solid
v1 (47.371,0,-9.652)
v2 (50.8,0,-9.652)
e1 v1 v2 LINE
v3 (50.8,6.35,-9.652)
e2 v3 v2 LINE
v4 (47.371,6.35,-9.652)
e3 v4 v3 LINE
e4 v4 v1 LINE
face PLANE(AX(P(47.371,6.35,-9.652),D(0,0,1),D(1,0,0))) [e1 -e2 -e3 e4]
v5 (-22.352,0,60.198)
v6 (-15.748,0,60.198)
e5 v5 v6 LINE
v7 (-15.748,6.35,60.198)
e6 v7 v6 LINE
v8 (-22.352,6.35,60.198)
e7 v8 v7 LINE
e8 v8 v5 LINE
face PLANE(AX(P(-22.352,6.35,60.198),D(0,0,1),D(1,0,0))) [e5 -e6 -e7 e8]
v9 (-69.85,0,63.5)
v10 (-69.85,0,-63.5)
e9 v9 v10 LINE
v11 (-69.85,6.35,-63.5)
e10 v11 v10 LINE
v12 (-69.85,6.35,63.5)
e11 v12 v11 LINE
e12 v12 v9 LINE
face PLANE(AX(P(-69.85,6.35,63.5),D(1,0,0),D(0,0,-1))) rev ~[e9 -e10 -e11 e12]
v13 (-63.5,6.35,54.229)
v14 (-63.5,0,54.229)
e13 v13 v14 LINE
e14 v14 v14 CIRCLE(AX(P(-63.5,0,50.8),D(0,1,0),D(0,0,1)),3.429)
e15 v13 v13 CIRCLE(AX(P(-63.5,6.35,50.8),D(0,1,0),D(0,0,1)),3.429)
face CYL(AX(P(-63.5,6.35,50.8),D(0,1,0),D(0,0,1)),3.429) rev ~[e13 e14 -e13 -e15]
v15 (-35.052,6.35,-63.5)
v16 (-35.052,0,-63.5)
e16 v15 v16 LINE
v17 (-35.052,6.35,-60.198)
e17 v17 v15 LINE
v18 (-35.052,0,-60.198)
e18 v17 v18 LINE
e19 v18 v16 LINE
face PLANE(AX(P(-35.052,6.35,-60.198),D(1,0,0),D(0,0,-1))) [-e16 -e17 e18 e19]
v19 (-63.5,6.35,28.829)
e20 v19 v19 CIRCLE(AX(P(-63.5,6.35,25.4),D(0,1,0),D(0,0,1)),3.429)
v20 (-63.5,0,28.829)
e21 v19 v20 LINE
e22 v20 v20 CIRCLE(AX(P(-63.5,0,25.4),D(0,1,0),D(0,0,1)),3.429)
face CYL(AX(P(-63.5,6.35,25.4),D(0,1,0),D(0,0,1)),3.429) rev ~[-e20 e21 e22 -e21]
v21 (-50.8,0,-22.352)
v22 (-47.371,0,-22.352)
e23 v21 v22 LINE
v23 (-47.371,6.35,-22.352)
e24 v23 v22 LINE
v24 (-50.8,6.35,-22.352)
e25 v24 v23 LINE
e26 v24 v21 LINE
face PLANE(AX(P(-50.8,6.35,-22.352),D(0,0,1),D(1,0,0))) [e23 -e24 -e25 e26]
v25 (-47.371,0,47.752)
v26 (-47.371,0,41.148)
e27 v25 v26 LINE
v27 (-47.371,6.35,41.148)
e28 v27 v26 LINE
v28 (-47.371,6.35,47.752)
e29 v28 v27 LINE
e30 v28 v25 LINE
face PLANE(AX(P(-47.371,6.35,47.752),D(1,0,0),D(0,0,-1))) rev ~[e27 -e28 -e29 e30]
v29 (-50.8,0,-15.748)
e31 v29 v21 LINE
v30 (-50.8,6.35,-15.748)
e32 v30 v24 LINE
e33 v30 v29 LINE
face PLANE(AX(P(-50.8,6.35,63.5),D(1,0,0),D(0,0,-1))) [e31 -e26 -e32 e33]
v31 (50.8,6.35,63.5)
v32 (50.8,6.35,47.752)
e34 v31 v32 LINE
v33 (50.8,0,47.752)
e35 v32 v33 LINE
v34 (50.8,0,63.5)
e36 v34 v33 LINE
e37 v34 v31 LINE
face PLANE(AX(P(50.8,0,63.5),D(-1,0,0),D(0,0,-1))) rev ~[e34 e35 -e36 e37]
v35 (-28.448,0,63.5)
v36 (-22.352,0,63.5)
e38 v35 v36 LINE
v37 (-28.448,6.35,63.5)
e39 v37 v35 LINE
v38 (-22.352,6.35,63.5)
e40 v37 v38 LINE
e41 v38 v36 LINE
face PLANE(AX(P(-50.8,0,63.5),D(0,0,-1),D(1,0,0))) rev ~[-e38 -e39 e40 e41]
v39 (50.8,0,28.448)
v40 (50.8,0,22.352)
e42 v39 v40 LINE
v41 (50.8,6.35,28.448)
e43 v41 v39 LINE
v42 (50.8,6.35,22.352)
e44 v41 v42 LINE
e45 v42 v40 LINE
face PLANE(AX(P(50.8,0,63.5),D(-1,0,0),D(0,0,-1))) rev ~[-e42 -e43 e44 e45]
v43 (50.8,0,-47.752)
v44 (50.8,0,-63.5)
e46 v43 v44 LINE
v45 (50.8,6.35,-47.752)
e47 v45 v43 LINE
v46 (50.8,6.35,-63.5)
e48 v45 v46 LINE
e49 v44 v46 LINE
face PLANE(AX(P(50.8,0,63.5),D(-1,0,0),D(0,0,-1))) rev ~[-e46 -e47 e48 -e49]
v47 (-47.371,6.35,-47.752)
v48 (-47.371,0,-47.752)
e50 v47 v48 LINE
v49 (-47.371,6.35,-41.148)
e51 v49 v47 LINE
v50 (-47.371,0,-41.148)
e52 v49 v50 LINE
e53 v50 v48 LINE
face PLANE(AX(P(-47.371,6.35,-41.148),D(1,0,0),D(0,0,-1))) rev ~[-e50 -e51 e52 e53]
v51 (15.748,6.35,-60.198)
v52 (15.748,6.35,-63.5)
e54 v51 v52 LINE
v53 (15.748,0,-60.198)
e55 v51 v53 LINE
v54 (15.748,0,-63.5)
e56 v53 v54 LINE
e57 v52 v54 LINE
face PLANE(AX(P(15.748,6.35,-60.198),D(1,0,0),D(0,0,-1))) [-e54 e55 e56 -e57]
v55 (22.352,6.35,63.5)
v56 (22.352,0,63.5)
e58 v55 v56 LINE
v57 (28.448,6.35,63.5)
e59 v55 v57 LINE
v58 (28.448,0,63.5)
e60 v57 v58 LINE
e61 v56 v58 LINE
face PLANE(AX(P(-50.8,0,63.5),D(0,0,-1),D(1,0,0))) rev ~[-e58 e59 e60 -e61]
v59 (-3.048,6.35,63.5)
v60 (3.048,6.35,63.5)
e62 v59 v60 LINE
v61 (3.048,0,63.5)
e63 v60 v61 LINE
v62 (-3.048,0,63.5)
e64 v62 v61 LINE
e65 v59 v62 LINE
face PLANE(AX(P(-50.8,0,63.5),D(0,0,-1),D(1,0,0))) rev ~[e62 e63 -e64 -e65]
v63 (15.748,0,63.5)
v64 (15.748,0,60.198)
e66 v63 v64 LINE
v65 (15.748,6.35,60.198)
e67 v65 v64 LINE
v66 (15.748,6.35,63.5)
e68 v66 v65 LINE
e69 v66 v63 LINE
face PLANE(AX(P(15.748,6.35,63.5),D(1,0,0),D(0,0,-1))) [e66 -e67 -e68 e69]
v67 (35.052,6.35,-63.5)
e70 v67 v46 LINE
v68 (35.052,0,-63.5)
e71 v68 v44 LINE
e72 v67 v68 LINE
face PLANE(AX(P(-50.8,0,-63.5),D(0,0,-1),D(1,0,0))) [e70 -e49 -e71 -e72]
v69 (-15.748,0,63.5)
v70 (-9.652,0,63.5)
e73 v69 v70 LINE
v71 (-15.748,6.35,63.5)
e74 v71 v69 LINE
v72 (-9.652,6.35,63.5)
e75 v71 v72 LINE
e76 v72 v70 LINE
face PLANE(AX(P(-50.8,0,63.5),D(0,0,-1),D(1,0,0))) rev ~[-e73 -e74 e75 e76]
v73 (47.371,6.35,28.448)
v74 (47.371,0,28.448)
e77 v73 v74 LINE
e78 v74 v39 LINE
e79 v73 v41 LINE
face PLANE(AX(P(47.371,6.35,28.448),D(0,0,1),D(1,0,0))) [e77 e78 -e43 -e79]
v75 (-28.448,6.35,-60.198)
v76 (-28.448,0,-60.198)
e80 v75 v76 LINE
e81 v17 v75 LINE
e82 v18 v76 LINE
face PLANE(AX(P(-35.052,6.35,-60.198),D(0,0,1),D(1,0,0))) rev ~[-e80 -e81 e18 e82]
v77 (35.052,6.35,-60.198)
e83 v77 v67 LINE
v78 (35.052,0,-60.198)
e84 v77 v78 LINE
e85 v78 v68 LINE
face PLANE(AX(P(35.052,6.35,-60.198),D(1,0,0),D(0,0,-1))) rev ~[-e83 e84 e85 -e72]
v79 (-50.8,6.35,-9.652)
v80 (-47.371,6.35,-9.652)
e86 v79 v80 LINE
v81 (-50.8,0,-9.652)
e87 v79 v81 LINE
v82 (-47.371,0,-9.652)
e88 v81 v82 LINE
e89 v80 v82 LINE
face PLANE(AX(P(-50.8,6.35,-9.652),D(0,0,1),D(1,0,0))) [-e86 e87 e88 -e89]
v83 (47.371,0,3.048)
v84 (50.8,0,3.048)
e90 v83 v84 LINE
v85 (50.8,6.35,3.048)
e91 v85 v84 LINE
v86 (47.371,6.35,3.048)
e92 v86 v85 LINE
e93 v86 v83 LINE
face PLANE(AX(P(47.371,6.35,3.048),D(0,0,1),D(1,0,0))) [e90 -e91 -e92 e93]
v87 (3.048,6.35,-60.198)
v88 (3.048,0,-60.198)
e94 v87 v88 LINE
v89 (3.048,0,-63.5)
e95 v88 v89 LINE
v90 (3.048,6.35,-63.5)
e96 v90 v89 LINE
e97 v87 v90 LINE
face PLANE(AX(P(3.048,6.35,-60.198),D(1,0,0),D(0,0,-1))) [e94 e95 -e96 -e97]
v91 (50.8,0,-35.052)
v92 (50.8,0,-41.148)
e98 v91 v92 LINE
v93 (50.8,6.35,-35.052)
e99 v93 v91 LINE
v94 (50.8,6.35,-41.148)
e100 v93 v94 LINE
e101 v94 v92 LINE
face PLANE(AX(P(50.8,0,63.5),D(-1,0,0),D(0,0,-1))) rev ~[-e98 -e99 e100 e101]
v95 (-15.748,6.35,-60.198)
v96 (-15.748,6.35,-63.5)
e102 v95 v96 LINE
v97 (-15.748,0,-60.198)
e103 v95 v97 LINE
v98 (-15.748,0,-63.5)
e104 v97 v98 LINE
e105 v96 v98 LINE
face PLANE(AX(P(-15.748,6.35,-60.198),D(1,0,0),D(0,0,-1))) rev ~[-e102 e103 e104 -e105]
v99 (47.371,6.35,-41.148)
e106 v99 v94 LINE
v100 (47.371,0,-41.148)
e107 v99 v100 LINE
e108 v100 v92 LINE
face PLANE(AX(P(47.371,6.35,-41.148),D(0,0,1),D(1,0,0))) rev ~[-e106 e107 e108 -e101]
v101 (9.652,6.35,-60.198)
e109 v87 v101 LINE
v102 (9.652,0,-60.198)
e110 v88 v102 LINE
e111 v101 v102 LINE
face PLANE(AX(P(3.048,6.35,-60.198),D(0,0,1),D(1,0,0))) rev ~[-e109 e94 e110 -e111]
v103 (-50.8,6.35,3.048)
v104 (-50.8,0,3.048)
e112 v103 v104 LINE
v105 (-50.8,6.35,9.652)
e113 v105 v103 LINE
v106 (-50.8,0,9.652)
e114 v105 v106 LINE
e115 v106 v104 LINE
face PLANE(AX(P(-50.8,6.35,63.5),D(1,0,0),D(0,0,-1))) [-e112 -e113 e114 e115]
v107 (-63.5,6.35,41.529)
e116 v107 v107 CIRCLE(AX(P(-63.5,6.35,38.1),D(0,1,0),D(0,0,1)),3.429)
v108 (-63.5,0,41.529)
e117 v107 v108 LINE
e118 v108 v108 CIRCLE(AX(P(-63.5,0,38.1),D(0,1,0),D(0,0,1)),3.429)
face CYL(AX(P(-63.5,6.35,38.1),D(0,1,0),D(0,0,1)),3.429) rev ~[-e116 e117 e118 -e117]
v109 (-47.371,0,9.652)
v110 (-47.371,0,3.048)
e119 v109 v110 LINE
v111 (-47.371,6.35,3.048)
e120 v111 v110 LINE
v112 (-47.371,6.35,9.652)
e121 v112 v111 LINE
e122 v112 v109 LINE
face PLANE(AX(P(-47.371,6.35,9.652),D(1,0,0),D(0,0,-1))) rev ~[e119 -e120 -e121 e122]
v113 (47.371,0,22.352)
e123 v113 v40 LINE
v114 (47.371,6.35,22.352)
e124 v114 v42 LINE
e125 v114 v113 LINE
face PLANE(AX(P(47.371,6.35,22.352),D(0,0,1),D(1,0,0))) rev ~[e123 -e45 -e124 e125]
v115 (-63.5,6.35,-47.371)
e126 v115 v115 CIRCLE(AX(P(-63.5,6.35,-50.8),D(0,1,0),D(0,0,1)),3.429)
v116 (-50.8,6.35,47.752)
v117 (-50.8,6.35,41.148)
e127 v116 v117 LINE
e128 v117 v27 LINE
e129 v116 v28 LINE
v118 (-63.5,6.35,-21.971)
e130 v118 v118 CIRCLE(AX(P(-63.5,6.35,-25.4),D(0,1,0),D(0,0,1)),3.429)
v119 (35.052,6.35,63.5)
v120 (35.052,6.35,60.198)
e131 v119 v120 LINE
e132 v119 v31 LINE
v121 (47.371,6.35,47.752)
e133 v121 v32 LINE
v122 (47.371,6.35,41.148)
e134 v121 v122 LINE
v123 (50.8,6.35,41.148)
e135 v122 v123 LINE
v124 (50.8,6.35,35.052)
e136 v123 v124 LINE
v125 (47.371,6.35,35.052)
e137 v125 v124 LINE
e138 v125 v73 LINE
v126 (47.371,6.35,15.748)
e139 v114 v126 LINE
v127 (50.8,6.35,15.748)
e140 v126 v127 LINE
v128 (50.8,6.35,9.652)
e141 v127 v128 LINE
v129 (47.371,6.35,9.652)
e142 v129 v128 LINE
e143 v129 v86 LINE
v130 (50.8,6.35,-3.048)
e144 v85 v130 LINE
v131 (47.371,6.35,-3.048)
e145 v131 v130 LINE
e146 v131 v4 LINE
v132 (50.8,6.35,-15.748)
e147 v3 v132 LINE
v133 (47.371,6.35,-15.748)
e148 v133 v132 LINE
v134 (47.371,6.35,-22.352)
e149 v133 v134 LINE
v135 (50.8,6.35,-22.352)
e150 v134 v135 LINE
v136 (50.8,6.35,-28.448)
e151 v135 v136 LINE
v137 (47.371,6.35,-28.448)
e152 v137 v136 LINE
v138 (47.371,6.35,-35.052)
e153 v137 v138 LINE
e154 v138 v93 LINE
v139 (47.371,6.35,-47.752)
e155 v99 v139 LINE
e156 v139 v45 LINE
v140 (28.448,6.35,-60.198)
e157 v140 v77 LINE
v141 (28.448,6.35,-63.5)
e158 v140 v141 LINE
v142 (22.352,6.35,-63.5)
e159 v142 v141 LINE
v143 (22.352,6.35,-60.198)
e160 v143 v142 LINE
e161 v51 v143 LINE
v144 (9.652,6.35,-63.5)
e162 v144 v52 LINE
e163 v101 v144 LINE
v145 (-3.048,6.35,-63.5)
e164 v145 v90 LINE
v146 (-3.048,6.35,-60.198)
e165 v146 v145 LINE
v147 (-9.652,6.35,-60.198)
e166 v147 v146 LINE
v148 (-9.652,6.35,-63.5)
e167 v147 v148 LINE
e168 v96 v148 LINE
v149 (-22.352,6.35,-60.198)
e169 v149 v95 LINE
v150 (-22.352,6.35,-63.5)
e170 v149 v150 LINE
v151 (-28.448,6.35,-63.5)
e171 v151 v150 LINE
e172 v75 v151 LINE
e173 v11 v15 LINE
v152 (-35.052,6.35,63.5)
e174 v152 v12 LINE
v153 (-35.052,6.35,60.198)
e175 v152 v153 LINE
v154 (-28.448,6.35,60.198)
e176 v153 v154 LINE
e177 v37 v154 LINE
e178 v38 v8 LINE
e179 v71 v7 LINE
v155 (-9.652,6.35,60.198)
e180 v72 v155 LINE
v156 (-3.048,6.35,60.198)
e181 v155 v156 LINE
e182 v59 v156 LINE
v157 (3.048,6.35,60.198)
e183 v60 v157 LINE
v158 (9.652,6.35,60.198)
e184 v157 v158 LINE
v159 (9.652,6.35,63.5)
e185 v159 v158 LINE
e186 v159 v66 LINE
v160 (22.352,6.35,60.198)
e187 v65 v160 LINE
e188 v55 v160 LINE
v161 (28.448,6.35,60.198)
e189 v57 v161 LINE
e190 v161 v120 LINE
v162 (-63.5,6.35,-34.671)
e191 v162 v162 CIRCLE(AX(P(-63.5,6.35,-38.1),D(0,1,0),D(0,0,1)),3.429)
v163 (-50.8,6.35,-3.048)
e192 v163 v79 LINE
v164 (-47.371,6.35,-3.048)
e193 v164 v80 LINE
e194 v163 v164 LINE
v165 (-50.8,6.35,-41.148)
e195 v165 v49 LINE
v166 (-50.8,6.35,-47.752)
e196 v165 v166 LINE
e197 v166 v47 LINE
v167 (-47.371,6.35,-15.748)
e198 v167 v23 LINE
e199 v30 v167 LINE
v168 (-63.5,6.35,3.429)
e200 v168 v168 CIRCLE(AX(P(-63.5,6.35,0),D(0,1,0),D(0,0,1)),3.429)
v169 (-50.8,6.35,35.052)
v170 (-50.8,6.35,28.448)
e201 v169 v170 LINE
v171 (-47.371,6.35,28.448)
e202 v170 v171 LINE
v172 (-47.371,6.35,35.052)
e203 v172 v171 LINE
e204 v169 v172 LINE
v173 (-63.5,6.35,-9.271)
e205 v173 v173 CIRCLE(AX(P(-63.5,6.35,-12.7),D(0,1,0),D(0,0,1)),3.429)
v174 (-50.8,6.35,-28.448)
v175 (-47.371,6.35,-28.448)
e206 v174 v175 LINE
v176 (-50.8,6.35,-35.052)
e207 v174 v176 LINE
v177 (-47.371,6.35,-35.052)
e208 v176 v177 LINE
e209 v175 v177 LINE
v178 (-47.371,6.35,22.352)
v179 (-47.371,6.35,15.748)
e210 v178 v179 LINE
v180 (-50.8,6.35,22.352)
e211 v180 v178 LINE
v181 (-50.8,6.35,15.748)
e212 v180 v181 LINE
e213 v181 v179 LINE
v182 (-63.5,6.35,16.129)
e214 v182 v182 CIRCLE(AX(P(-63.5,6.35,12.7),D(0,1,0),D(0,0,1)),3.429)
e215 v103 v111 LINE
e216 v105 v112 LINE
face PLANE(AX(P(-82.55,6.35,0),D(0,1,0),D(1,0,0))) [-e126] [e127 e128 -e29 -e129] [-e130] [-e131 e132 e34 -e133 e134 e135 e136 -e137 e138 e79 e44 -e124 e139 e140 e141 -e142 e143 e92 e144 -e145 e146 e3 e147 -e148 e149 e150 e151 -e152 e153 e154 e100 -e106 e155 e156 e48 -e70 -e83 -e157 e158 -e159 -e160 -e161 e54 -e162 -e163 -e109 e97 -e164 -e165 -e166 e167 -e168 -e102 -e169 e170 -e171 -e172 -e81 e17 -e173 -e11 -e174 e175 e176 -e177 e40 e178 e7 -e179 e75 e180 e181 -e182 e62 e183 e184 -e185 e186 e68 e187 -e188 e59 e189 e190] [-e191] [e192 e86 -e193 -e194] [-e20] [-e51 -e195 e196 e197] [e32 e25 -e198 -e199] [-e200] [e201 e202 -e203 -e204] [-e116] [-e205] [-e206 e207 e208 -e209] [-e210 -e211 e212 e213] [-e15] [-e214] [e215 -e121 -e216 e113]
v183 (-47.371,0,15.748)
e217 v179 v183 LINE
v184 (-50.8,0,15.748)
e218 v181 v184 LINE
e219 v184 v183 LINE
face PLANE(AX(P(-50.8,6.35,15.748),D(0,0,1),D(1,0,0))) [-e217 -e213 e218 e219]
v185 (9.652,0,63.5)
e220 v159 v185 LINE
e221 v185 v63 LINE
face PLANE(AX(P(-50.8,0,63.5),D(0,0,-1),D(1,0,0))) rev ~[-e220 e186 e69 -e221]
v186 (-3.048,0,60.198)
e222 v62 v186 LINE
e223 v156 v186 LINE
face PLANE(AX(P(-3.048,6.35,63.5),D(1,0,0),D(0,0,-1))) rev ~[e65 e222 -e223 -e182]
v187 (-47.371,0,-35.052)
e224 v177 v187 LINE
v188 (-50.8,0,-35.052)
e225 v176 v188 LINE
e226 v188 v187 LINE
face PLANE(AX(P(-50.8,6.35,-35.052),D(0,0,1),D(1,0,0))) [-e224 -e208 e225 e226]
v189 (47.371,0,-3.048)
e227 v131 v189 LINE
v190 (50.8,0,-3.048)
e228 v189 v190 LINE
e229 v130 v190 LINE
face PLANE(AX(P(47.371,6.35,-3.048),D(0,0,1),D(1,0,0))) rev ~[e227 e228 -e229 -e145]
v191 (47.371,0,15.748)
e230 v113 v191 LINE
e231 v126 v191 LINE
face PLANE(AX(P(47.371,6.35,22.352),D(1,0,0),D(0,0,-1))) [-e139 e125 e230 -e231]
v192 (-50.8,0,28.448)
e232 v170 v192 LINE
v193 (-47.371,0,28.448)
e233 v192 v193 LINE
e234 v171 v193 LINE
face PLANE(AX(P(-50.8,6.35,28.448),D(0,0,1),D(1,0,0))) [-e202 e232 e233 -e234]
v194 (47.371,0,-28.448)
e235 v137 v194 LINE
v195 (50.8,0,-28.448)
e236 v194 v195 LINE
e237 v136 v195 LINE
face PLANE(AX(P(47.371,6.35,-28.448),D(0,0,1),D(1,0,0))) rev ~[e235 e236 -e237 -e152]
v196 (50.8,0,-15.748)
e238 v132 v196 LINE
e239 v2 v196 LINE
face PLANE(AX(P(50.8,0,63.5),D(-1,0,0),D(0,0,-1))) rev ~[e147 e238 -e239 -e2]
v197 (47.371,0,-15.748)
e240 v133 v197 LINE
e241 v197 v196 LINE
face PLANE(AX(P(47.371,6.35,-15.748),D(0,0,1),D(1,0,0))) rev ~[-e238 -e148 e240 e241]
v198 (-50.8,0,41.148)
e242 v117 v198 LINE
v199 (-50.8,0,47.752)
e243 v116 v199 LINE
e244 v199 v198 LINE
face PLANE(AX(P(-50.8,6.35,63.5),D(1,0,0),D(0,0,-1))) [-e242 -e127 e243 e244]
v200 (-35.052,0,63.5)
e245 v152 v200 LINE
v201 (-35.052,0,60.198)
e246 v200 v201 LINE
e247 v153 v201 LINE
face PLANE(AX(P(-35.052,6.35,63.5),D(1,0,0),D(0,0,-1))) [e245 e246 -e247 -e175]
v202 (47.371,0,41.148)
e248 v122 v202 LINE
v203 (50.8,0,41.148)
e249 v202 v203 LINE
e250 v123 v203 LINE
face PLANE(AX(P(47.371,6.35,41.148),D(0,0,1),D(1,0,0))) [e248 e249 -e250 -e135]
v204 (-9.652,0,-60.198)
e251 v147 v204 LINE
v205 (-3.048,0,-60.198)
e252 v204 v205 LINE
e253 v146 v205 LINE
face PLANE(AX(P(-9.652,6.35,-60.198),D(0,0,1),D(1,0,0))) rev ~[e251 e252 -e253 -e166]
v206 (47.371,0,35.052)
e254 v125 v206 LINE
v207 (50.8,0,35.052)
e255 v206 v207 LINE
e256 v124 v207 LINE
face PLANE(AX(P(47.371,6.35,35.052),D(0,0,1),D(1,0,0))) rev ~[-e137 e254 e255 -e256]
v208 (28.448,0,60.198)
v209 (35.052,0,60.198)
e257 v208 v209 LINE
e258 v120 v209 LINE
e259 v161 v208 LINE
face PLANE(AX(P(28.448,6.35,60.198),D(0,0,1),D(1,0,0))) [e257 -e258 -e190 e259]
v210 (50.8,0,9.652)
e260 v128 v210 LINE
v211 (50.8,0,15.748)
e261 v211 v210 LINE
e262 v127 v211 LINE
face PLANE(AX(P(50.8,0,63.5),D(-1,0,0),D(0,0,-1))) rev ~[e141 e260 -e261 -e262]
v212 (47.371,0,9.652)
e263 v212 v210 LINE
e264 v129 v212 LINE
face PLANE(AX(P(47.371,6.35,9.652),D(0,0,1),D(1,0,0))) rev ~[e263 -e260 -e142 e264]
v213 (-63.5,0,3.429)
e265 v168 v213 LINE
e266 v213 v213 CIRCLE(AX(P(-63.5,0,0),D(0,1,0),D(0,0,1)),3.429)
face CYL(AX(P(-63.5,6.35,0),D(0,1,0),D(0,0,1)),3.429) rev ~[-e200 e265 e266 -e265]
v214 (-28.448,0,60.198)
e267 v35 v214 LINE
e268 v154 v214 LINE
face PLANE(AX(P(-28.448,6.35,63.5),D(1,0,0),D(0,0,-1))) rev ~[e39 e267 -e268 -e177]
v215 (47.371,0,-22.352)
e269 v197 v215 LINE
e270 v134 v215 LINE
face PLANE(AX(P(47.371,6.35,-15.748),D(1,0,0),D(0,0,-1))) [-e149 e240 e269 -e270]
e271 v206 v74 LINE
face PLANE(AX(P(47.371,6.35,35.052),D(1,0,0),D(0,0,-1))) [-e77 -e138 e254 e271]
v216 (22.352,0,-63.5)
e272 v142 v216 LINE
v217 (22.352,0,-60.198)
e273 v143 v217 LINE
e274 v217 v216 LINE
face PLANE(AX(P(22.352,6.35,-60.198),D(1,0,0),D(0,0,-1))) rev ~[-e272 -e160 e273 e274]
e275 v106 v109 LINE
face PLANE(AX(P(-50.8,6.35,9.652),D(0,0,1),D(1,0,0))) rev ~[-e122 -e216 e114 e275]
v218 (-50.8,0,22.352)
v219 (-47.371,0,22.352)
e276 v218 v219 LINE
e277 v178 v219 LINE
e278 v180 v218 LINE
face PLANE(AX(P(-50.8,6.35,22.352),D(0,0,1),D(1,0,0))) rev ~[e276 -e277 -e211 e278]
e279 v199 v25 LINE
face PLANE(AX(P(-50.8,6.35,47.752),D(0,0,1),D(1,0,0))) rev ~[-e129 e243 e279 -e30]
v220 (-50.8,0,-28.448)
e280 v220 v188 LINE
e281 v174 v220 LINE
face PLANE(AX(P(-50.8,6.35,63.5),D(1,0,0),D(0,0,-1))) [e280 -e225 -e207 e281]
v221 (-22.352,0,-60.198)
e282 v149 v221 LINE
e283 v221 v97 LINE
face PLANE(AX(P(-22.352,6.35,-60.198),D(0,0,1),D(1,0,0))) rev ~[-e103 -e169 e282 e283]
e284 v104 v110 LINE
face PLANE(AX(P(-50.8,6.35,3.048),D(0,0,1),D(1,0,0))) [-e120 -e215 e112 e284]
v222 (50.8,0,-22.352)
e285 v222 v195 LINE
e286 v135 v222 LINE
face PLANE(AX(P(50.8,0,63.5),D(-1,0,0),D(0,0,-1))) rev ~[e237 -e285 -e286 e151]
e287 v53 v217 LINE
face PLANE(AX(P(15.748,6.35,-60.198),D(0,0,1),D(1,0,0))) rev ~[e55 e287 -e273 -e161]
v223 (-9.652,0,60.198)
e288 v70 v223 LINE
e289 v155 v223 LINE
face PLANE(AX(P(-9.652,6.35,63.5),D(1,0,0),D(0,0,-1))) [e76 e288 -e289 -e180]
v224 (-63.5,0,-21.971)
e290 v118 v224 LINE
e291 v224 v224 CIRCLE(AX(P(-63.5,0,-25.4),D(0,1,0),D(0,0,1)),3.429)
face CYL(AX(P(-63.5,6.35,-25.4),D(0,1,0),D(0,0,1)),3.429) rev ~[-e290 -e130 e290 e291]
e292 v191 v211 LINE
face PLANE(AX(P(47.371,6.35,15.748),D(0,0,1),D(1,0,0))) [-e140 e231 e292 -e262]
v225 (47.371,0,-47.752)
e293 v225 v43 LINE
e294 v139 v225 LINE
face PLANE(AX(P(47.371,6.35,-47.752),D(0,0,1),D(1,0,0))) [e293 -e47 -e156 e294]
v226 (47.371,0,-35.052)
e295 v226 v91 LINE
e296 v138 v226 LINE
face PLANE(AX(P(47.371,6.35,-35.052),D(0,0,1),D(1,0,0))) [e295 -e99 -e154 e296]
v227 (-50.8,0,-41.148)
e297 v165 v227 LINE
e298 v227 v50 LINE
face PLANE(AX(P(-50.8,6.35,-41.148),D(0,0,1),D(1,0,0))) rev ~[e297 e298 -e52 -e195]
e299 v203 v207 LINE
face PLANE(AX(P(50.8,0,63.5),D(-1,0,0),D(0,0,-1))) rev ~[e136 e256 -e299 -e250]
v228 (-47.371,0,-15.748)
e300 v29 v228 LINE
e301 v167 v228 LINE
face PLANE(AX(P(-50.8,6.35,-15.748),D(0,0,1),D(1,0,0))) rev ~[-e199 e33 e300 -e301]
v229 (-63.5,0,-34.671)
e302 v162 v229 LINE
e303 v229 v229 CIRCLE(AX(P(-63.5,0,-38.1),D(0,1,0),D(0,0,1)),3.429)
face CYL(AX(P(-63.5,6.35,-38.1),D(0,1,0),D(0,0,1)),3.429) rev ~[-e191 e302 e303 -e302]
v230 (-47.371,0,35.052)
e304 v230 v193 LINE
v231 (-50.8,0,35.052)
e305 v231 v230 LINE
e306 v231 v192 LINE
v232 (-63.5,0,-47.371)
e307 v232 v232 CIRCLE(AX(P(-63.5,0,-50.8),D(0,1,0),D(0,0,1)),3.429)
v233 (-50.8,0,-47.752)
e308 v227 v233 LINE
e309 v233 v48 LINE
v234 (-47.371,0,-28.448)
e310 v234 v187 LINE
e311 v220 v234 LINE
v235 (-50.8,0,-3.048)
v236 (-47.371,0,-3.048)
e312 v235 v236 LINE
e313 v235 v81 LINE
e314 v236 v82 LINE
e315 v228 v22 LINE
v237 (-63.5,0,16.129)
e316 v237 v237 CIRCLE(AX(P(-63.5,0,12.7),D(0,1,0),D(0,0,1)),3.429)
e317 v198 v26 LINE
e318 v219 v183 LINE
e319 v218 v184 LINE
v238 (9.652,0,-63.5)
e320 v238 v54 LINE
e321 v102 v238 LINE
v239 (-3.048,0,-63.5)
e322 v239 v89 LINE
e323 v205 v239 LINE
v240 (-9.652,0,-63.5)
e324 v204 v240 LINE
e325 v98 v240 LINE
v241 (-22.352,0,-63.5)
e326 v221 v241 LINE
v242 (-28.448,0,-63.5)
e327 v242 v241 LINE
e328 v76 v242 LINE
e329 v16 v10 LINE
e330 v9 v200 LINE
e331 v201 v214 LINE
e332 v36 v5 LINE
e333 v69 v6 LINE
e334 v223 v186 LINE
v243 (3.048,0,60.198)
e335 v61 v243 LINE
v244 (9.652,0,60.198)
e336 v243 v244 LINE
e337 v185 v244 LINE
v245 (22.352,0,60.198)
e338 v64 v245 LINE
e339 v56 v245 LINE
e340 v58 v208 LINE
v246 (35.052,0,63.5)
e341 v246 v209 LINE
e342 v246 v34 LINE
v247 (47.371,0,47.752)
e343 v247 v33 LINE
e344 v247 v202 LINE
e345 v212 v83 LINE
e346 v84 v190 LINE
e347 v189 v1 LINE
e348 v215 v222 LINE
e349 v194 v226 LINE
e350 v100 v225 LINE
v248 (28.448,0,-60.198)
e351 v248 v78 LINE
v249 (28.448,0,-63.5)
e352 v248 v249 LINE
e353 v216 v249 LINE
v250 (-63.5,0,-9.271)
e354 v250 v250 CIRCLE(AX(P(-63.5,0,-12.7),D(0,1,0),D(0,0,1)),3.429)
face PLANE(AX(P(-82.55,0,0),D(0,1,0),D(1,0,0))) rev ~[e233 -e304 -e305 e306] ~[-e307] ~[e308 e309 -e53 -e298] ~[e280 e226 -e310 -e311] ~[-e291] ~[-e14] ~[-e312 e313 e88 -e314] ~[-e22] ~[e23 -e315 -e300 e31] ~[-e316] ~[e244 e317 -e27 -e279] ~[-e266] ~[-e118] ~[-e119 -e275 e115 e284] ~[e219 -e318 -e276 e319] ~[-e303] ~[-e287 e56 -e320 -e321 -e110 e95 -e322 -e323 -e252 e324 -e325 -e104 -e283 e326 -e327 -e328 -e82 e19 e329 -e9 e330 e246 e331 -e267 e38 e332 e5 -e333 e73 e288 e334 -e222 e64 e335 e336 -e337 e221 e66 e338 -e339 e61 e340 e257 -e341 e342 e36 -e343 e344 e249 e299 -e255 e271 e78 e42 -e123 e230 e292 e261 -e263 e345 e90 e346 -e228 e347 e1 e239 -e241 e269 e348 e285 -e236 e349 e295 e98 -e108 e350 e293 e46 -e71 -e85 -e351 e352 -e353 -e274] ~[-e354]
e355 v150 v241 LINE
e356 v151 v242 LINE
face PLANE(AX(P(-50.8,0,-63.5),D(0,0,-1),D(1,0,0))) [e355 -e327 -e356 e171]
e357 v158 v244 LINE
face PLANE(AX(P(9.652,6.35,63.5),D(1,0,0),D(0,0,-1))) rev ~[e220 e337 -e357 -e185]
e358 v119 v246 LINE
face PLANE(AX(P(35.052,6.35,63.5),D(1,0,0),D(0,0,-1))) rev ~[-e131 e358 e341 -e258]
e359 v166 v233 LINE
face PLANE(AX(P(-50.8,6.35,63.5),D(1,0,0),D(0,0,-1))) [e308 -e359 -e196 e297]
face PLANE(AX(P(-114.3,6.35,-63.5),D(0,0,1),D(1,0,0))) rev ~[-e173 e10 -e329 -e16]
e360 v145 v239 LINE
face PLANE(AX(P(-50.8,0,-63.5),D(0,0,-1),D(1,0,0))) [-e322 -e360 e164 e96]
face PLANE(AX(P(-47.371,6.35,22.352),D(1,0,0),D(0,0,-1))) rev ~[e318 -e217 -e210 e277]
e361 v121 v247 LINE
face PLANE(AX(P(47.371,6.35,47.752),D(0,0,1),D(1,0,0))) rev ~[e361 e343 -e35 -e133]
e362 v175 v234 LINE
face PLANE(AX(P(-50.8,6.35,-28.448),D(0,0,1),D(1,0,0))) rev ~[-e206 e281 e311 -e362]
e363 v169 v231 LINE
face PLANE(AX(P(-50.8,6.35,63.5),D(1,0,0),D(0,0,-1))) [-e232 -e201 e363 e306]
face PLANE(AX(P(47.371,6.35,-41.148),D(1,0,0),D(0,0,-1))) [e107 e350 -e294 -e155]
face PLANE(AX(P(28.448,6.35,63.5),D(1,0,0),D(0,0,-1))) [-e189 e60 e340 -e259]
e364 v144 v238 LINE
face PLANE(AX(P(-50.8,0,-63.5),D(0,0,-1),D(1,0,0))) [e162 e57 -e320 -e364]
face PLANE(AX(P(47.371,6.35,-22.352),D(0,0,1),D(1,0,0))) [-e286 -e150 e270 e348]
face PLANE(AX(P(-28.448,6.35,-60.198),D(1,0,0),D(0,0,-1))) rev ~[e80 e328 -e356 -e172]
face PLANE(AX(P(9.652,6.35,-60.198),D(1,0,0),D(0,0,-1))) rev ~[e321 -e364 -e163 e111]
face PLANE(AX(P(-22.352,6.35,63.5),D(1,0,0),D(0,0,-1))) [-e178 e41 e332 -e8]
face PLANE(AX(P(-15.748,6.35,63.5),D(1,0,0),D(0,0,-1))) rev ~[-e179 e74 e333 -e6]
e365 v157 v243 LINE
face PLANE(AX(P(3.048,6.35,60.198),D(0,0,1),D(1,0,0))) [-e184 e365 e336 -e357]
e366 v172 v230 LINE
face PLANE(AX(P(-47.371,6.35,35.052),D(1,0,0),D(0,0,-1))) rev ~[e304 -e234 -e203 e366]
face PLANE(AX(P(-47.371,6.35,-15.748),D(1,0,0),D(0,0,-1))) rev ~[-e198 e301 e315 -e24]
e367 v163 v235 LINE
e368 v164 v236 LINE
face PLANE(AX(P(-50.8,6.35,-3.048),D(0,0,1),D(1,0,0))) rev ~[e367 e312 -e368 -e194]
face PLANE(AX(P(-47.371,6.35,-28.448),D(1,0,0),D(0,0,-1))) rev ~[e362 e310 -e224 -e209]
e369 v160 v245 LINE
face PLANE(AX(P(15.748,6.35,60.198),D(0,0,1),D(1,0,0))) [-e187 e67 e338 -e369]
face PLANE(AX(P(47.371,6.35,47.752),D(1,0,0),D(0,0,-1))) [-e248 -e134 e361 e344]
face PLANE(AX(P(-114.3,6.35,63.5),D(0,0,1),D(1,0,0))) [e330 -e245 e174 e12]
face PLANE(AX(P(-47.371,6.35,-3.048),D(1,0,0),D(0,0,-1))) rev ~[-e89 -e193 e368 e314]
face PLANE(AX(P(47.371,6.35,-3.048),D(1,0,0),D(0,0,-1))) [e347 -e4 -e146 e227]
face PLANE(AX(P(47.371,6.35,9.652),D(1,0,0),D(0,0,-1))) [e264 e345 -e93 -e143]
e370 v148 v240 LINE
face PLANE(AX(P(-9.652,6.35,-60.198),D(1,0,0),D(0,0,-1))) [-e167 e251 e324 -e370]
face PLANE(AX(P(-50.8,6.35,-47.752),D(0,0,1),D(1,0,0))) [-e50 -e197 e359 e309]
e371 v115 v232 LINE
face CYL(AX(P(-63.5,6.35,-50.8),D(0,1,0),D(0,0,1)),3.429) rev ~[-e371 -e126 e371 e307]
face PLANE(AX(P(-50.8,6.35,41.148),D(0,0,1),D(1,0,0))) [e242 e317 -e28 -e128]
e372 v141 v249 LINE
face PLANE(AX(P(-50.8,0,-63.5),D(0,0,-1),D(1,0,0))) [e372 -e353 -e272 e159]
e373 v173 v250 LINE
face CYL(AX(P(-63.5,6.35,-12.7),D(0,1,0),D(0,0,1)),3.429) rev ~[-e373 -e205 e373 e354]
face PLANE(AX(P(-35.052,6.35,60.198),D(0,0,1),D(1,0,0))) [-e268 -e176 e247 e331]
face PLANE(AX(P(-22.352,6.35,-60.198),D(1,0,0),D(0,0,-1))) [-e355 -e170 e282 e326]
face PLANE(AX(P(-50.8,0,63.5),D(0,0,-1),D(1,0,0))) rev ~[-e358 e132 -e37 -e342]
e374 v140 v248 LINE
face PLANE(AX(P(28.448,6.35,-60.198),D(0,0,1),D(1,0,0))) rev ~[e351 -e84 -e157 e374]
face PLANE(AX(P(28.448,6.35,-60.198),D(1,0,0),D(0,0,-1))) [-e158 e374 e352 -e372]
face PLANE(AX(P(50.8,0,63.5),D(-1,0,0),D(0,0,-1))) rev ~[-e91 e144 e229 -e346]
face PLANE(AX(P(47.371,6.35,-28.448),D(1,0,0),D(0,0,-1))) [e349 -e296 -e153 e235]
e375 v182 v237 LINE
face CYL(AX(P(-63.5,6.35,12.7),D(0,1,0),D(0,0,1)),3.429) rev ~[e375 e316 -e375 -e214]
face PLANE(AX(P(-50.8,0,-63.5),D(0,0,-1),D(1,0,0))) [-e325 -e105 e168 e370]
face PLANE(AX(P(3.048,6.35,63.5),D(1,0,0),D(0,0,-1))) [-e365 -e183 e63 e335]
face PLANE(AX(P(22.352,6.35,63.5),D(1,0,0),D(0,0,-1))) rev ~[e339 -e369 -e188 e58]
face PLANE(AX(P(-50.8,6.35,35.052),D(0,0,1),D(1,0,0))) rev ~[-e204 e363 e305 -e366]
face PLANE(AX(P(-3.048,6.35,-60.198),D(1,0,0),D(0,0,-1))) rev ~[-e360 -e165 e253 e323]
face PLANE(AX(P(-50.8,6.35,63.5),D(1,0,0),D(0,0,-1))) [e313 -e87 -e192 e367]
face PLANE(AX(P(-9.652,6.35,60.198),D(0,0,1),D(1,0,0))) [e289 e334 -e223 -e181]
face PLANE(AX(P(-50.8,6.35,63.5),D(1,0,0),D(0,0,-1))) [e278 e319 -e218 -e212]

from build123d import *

# Parameters (mm, degrees)
SKETCH1_W           = 101.6
SKETCH1_H           = 127
BOSS_EXTRUDE1_DEPTH = 6.35
SKETCH2_W           = 6.604
SKETCH2_H           = 3.302
SKETCH2_W_2         = 3.429
SKETCH2_H_2         = 6.604
CUT_EXTRUDE1_DEPTH  = 82.567226875
SKETCH3_W           = 63.5
SKETCH3_H           = 127
SKETCH3_R           = 3.429
BOSS_EXTRUDE2_DEPTH = 6.35
SKETCH4_W           = 44.45
SKETCH4_H           = 127
CUT_EXTRUDE2_DEPTH  = 131.908603613


with BuildPart() as part:
    # Sketch1 → Boss-Extrude1 (new body)
    with BuildSketch(Plane(origin=(0, 0, 0), x_dir=(1, 0, 0), z_dir=(0, 1, 0))):
        Rectangle(SKETCH1_W, SKETCH1_H)
    extrude(amount=BOSS_EXTRUDE1_DEPTH)

    # Sketch2 → Cut-Extrude1 (cut, through all)
    with BuildSketch(Plane(origin=(0, 6.35, 0), x_dir=(1, 0, 0), z_dir=(0, 1, 0))):
        with Locations((-31.75, -61.849)):
            Rectangle(SKETCH2_W, SKETCH2_H)
        with Locations((-19.05, -61.849)):
            Rectangle(SKETCH2_W, SKETCH2_H)
        with Locations((-6.35, -61.849)):
            Rectangle(SKETCH2_W, SKETCH2_H)
        with Locations((6.35, -61.849)):
            Rectangle(SKETCH2_W, SKETCH2_H)
        with Locations((19.05, -61.849)):
            Rectangle(SKETCH2_W, SKETCH2_H)
        with Locations((31.75, -61.849)):
            Rectangle(SKETCH2_W, SKETCH2_H)
        with Locations((31.75, 61.849)):
            Rectangle(SKETCH2_W, SKETCH2_H)
        with Locations((19.05, 61.849)):
            Rectangle(SKETCH2_W, SKETCH2_H)
        with Locations((6.35, 61.849)):
            Rectangle(SKETCH2_W, SKETCH2_H)
        with Locations((-6.35, 61.849)):
            Rectangle(SKETCH2_W, SKETCH2_H)
        with Locations((-19.05, 61.849)):
            Rectangle(SKETCH2_W, SKETCH2_H)
        with Locations((-31.75, 61.849)):
            Rectangle(SKETCH2_W, SKETCH2_H)
        with Locations((-49.0855, 31.75)):
            Rectangle(SKETCH2_W_2, SKETCH2_H_2)
        with Locations((-49.0855, 19.05)):
            Rectangle(SKETCH2_W_2, SKETCH2_H_2)
        with Locations((-49.0855, 6.35)):
            Rectangle(SKETCH2_W_2, SKETCH2_H_2)
        with Locations((-49.0855, -6.35)):
            Rectangle(SKETCH2_W_2, SKETCH2_H_2)
        with Locations((-49.0855, -19.05)):
            Rectangle(SKETCH2_W_2, SKETCH2_H_2)
        with Locations((-49.0855, -31.75)):
            Rectangle(SKETCH2_W_2, SKETCH2_H_2)
        with Locations((49.0855, -31.75)):
            Rectangle(SKETCH2_W_2, SKETCH2_H_2)
        with Locations((49.0855, -19.05)):
            Rectangle(SKETCH2_W_2, SKETCH2_H_2)
        with Locations((49.0855, -6.35)):
            Rectangle(SKETCH2_W_2, SKETCH2_H_2)
        with Locations((49.0855, 6.35)):
            Rectangle(SKETCH2_W_2, SKETCH2_H_2)
        with Locations((49.0855, 19.05)):
            Rectangle(SKETCH2_W_2, SKETCH2_H_2)
        with Locations((49.0855, 31.75)):
            Rectangle(SKETCH2_W_2, SKETCH2_H_2)
        with Locations((-49.0855, 44.45)):
            Rectangle(SKETCH2_W_2, SKETCH2_H_2)
        with Locations((-49.0855, -44.45)):
            Rectangle(SKETCH2_W_2, SKETCH2_H_2)
        with Locations((49.0855, -44.45)):
            Rectangle(SKETCH2_W_2, SKETCH2_H_2)
        with Locations((49.0855, 44.45)):
            Rectangle(SKETCH2_W_2, SKETCH2_H_2)
    extrude(amount=-CUT_EXTRUDE1_DEPTH, mode=Mode.SUBTRACT)

    # Sketch3 → Boss-Extrude2 (add)
    with BuildSketch(Plane(origin=(0, 6.35, 0), x_dir=(1, 0, 0), z_dir=(0, 1, 0))):
        with Locations((-82.55, 0)):
            Rectangle(SKETCH3_W, SKETCH3_H)
        with Locations(Location((-101.6, 50.8, 0), (0, 0, 270))):
            Circle(SKETCH3_R, mode=Mode.SUBTRACT)
        with Locations(Location((-88.9, 50.8, 0), (0, 0, 270))):
            Circle(SKETCH3_R, mode=Mode.SUBTRACT)
        with Locations(Location((-88.9, 38.1, 0), (0, 0, 270))):
            Circle(SKETCH3_R, mode=Mode.SUBTRACT)
        with Locations(Location((-101.6, 38.1, 0), (0, 0, 270))):
            Circle(SKETCH3_R, mode=Mode.SUBTRACT)
        with Locations(Location((-101.6, 25.4, 0), (0, 0, 270))):
            Circle(SKETCH3_R, mode=Mode.SUBTRACT)
        with Locations(Location((-88.9, 25.4, 0), (0, 0, 270))):
            Circle(SKETCH3_R, mode=Mode.SUBTRACT)
        with Locations(Location((-76.2, 50.8, 0), (0, 0, 270))):
            Circle(SKETCH3_R, mode=Mode.SUBTRACT)
        with Locations(Location((-63.5, 50.8, 0), (0, 0, 270))):
            Circle(SKETCH3_R, mode=Mode.SUBTRACT)
        with Locations(Location((-76.2, 38.1, 0), (0, 0, 270))):
            Circle(SKETCH3_R, mode=Mode.SUBTRACT)
        with Locations(Location((-63.5, 38.1, 0), (0, 0, 270))):
            Circle(SKETCH3_R, mode=Mode.SUBTRACT)
        with Locations(Location((-76.2, 25.4, 0), (0, 0, 270))):
            Circle(SKETCH3_R, mode=Mode.SUBTRACT)
        with Locations(Location((-63.5, 25.4, 0), (0, 0, 270))):
            Circle(SKETCH3_R, mode=Mode.SUBTRACT)
        with Locations(Location((-101.6, 12.7, 0), (0, 0, 270))):
            Circle(SKETCH3_R, mode=Mode.SUBTRACT)
        with Locations(Location((-88.9, 12.7, 0), (0, 0, 270))):
            Circle(SKETCH3_R, mode=Mode.SUBTRACT)
        with Locations(Location((-76.2, 12.7, 0), (0, 0, 270))):
            Circle(SKETCH3_R, mode=Mode.SUBTRACT)
        with Locations(Location((-63.5, 12.7, 0), (0, 0, 270))):
            Circle(SKETCH3_R, mode=Mode.SUBTRACT)
        with Locations(Location((-101.6, 0, 0), (0, 0, 270))):
            Circle(SKETCH3_R, mode=Mode.SUBTRACT)
        with Locations(Location((-88.9, 0, 0), (0, 0, 270))):
            Circle(SKETCH3_R, mode=Mode.SUBTRACT)
        with Locations(Location((-76.2, 0, 0), (0, 0, 270))):
            Circle(SKETCH3_R, mode=Mode.SUBTRACT)
        with Locations(Location((-63.5, 0, 0), (0, 0, 270))):
            Circle(SKETCH3_R, mode=Mode.SUBTRACT)
        with Locations(Location((-101.6, -12.7, 0), (0, 0, 270))):
            Circle(SKETCH3_R, mode=Mode.SUBTRACT)
        with Locations(Location((-88.9, -12.7, 0), (0, 0, 270))):
            Circle(SKETCH3_R, mode=Mode.SUBTRACT)
        with Locations(Location((-76.2, -12.7, 0), (0, 0, 270))):
            Circle(SKETCH3_R, mode=Mode.SUBTRACT)
        with Locations(Location((-63.5, -12.7, 0), (0, 0, 270))):
            Circle(SKETCH3_R, mode=Mode.SUBTRACT)
        with Locations(Location((-101.6, -25.4, 0), (0, 0, 270))):
            Circle(SKETCH3_R, mode=Mode.SUBTRACT)
        with Locations(Location((-88.9, -25.4, 0), (0, 0, 270))):
            Circle(SKETCH3_R, mode=Mode.SUBTRACT)
        with Locations(Location((-76.2, -25.4, 0), (0, 0, 270))):
            Circle(SKETCH3_R, mode=Mode.SUBTRACT)
        with Locations(Location((-63.5, -25.4, 0), (0, 0, 270))):
            Circle(SKETCH3_R, mode=Mode.SUBTRACT)
        with Locations(Location((-101.6, -38.1, 0), (0, 0, 270))):
            Circle(SKETCH3_R, mode=Mode.SUBTRACT)
        with Locations(Location((-88.9, -38.1, 0), (0, 0, 270))):
            Circle(SKETCH3_R, mode=Mode.SUBTRACT)
        with Locations(Location((-76.2, -38.1, 0), (0, 0, 270))):
            Circle(SKETCH3_R, mode=Mode.SUBTRACT)
        with Locations(Location((-63.5, -38.1, 0), (0, 0, 270))):
            Circle(SKETCH3_R, mode=Mode.SUBTRACT)
        with Locations(Location((-101.6, -50.8, 0), (0, 0, 270))):
            Circle(SKETCH3_R, mode=Mode.SUBTRACT)
        with Locations(Location((-88.9, -50.8, 0), (0, 0, 270))):
            Circle(SKETCH3_R, mode=Mode.SUBTRACT)
        with Locations(Location((-76.2, -50.8, 0), (0, 0, 270))):
            Circle(SKETCH3_R, mode=Mode.SUBTRACT)
        with Locations(Location((-63.5, -50.8, 0), (0, 0, 270))):
            Circle(SKETCH3_R, mode=Mode.SUBTRACT)
    extrude(amount=-BOSS_EXTRUDE2_DEPTH)

    # Sketch4 → Cut-Extrude2 (cut, through all)
    with BuildSketch(Plane(origin=(0, 6.35, 0), x_dir=(1, 0, 0), z_dir=(0, 1, 0))):
        with Locations((-92.075, 0)):
            Rectangle(SKETCH4_W, SKETCH4_H)
    extrude(amount=-CUT_EXTRUDE2_DEPTH, mode=Mode.SUBTRACT)


solid = part.part
